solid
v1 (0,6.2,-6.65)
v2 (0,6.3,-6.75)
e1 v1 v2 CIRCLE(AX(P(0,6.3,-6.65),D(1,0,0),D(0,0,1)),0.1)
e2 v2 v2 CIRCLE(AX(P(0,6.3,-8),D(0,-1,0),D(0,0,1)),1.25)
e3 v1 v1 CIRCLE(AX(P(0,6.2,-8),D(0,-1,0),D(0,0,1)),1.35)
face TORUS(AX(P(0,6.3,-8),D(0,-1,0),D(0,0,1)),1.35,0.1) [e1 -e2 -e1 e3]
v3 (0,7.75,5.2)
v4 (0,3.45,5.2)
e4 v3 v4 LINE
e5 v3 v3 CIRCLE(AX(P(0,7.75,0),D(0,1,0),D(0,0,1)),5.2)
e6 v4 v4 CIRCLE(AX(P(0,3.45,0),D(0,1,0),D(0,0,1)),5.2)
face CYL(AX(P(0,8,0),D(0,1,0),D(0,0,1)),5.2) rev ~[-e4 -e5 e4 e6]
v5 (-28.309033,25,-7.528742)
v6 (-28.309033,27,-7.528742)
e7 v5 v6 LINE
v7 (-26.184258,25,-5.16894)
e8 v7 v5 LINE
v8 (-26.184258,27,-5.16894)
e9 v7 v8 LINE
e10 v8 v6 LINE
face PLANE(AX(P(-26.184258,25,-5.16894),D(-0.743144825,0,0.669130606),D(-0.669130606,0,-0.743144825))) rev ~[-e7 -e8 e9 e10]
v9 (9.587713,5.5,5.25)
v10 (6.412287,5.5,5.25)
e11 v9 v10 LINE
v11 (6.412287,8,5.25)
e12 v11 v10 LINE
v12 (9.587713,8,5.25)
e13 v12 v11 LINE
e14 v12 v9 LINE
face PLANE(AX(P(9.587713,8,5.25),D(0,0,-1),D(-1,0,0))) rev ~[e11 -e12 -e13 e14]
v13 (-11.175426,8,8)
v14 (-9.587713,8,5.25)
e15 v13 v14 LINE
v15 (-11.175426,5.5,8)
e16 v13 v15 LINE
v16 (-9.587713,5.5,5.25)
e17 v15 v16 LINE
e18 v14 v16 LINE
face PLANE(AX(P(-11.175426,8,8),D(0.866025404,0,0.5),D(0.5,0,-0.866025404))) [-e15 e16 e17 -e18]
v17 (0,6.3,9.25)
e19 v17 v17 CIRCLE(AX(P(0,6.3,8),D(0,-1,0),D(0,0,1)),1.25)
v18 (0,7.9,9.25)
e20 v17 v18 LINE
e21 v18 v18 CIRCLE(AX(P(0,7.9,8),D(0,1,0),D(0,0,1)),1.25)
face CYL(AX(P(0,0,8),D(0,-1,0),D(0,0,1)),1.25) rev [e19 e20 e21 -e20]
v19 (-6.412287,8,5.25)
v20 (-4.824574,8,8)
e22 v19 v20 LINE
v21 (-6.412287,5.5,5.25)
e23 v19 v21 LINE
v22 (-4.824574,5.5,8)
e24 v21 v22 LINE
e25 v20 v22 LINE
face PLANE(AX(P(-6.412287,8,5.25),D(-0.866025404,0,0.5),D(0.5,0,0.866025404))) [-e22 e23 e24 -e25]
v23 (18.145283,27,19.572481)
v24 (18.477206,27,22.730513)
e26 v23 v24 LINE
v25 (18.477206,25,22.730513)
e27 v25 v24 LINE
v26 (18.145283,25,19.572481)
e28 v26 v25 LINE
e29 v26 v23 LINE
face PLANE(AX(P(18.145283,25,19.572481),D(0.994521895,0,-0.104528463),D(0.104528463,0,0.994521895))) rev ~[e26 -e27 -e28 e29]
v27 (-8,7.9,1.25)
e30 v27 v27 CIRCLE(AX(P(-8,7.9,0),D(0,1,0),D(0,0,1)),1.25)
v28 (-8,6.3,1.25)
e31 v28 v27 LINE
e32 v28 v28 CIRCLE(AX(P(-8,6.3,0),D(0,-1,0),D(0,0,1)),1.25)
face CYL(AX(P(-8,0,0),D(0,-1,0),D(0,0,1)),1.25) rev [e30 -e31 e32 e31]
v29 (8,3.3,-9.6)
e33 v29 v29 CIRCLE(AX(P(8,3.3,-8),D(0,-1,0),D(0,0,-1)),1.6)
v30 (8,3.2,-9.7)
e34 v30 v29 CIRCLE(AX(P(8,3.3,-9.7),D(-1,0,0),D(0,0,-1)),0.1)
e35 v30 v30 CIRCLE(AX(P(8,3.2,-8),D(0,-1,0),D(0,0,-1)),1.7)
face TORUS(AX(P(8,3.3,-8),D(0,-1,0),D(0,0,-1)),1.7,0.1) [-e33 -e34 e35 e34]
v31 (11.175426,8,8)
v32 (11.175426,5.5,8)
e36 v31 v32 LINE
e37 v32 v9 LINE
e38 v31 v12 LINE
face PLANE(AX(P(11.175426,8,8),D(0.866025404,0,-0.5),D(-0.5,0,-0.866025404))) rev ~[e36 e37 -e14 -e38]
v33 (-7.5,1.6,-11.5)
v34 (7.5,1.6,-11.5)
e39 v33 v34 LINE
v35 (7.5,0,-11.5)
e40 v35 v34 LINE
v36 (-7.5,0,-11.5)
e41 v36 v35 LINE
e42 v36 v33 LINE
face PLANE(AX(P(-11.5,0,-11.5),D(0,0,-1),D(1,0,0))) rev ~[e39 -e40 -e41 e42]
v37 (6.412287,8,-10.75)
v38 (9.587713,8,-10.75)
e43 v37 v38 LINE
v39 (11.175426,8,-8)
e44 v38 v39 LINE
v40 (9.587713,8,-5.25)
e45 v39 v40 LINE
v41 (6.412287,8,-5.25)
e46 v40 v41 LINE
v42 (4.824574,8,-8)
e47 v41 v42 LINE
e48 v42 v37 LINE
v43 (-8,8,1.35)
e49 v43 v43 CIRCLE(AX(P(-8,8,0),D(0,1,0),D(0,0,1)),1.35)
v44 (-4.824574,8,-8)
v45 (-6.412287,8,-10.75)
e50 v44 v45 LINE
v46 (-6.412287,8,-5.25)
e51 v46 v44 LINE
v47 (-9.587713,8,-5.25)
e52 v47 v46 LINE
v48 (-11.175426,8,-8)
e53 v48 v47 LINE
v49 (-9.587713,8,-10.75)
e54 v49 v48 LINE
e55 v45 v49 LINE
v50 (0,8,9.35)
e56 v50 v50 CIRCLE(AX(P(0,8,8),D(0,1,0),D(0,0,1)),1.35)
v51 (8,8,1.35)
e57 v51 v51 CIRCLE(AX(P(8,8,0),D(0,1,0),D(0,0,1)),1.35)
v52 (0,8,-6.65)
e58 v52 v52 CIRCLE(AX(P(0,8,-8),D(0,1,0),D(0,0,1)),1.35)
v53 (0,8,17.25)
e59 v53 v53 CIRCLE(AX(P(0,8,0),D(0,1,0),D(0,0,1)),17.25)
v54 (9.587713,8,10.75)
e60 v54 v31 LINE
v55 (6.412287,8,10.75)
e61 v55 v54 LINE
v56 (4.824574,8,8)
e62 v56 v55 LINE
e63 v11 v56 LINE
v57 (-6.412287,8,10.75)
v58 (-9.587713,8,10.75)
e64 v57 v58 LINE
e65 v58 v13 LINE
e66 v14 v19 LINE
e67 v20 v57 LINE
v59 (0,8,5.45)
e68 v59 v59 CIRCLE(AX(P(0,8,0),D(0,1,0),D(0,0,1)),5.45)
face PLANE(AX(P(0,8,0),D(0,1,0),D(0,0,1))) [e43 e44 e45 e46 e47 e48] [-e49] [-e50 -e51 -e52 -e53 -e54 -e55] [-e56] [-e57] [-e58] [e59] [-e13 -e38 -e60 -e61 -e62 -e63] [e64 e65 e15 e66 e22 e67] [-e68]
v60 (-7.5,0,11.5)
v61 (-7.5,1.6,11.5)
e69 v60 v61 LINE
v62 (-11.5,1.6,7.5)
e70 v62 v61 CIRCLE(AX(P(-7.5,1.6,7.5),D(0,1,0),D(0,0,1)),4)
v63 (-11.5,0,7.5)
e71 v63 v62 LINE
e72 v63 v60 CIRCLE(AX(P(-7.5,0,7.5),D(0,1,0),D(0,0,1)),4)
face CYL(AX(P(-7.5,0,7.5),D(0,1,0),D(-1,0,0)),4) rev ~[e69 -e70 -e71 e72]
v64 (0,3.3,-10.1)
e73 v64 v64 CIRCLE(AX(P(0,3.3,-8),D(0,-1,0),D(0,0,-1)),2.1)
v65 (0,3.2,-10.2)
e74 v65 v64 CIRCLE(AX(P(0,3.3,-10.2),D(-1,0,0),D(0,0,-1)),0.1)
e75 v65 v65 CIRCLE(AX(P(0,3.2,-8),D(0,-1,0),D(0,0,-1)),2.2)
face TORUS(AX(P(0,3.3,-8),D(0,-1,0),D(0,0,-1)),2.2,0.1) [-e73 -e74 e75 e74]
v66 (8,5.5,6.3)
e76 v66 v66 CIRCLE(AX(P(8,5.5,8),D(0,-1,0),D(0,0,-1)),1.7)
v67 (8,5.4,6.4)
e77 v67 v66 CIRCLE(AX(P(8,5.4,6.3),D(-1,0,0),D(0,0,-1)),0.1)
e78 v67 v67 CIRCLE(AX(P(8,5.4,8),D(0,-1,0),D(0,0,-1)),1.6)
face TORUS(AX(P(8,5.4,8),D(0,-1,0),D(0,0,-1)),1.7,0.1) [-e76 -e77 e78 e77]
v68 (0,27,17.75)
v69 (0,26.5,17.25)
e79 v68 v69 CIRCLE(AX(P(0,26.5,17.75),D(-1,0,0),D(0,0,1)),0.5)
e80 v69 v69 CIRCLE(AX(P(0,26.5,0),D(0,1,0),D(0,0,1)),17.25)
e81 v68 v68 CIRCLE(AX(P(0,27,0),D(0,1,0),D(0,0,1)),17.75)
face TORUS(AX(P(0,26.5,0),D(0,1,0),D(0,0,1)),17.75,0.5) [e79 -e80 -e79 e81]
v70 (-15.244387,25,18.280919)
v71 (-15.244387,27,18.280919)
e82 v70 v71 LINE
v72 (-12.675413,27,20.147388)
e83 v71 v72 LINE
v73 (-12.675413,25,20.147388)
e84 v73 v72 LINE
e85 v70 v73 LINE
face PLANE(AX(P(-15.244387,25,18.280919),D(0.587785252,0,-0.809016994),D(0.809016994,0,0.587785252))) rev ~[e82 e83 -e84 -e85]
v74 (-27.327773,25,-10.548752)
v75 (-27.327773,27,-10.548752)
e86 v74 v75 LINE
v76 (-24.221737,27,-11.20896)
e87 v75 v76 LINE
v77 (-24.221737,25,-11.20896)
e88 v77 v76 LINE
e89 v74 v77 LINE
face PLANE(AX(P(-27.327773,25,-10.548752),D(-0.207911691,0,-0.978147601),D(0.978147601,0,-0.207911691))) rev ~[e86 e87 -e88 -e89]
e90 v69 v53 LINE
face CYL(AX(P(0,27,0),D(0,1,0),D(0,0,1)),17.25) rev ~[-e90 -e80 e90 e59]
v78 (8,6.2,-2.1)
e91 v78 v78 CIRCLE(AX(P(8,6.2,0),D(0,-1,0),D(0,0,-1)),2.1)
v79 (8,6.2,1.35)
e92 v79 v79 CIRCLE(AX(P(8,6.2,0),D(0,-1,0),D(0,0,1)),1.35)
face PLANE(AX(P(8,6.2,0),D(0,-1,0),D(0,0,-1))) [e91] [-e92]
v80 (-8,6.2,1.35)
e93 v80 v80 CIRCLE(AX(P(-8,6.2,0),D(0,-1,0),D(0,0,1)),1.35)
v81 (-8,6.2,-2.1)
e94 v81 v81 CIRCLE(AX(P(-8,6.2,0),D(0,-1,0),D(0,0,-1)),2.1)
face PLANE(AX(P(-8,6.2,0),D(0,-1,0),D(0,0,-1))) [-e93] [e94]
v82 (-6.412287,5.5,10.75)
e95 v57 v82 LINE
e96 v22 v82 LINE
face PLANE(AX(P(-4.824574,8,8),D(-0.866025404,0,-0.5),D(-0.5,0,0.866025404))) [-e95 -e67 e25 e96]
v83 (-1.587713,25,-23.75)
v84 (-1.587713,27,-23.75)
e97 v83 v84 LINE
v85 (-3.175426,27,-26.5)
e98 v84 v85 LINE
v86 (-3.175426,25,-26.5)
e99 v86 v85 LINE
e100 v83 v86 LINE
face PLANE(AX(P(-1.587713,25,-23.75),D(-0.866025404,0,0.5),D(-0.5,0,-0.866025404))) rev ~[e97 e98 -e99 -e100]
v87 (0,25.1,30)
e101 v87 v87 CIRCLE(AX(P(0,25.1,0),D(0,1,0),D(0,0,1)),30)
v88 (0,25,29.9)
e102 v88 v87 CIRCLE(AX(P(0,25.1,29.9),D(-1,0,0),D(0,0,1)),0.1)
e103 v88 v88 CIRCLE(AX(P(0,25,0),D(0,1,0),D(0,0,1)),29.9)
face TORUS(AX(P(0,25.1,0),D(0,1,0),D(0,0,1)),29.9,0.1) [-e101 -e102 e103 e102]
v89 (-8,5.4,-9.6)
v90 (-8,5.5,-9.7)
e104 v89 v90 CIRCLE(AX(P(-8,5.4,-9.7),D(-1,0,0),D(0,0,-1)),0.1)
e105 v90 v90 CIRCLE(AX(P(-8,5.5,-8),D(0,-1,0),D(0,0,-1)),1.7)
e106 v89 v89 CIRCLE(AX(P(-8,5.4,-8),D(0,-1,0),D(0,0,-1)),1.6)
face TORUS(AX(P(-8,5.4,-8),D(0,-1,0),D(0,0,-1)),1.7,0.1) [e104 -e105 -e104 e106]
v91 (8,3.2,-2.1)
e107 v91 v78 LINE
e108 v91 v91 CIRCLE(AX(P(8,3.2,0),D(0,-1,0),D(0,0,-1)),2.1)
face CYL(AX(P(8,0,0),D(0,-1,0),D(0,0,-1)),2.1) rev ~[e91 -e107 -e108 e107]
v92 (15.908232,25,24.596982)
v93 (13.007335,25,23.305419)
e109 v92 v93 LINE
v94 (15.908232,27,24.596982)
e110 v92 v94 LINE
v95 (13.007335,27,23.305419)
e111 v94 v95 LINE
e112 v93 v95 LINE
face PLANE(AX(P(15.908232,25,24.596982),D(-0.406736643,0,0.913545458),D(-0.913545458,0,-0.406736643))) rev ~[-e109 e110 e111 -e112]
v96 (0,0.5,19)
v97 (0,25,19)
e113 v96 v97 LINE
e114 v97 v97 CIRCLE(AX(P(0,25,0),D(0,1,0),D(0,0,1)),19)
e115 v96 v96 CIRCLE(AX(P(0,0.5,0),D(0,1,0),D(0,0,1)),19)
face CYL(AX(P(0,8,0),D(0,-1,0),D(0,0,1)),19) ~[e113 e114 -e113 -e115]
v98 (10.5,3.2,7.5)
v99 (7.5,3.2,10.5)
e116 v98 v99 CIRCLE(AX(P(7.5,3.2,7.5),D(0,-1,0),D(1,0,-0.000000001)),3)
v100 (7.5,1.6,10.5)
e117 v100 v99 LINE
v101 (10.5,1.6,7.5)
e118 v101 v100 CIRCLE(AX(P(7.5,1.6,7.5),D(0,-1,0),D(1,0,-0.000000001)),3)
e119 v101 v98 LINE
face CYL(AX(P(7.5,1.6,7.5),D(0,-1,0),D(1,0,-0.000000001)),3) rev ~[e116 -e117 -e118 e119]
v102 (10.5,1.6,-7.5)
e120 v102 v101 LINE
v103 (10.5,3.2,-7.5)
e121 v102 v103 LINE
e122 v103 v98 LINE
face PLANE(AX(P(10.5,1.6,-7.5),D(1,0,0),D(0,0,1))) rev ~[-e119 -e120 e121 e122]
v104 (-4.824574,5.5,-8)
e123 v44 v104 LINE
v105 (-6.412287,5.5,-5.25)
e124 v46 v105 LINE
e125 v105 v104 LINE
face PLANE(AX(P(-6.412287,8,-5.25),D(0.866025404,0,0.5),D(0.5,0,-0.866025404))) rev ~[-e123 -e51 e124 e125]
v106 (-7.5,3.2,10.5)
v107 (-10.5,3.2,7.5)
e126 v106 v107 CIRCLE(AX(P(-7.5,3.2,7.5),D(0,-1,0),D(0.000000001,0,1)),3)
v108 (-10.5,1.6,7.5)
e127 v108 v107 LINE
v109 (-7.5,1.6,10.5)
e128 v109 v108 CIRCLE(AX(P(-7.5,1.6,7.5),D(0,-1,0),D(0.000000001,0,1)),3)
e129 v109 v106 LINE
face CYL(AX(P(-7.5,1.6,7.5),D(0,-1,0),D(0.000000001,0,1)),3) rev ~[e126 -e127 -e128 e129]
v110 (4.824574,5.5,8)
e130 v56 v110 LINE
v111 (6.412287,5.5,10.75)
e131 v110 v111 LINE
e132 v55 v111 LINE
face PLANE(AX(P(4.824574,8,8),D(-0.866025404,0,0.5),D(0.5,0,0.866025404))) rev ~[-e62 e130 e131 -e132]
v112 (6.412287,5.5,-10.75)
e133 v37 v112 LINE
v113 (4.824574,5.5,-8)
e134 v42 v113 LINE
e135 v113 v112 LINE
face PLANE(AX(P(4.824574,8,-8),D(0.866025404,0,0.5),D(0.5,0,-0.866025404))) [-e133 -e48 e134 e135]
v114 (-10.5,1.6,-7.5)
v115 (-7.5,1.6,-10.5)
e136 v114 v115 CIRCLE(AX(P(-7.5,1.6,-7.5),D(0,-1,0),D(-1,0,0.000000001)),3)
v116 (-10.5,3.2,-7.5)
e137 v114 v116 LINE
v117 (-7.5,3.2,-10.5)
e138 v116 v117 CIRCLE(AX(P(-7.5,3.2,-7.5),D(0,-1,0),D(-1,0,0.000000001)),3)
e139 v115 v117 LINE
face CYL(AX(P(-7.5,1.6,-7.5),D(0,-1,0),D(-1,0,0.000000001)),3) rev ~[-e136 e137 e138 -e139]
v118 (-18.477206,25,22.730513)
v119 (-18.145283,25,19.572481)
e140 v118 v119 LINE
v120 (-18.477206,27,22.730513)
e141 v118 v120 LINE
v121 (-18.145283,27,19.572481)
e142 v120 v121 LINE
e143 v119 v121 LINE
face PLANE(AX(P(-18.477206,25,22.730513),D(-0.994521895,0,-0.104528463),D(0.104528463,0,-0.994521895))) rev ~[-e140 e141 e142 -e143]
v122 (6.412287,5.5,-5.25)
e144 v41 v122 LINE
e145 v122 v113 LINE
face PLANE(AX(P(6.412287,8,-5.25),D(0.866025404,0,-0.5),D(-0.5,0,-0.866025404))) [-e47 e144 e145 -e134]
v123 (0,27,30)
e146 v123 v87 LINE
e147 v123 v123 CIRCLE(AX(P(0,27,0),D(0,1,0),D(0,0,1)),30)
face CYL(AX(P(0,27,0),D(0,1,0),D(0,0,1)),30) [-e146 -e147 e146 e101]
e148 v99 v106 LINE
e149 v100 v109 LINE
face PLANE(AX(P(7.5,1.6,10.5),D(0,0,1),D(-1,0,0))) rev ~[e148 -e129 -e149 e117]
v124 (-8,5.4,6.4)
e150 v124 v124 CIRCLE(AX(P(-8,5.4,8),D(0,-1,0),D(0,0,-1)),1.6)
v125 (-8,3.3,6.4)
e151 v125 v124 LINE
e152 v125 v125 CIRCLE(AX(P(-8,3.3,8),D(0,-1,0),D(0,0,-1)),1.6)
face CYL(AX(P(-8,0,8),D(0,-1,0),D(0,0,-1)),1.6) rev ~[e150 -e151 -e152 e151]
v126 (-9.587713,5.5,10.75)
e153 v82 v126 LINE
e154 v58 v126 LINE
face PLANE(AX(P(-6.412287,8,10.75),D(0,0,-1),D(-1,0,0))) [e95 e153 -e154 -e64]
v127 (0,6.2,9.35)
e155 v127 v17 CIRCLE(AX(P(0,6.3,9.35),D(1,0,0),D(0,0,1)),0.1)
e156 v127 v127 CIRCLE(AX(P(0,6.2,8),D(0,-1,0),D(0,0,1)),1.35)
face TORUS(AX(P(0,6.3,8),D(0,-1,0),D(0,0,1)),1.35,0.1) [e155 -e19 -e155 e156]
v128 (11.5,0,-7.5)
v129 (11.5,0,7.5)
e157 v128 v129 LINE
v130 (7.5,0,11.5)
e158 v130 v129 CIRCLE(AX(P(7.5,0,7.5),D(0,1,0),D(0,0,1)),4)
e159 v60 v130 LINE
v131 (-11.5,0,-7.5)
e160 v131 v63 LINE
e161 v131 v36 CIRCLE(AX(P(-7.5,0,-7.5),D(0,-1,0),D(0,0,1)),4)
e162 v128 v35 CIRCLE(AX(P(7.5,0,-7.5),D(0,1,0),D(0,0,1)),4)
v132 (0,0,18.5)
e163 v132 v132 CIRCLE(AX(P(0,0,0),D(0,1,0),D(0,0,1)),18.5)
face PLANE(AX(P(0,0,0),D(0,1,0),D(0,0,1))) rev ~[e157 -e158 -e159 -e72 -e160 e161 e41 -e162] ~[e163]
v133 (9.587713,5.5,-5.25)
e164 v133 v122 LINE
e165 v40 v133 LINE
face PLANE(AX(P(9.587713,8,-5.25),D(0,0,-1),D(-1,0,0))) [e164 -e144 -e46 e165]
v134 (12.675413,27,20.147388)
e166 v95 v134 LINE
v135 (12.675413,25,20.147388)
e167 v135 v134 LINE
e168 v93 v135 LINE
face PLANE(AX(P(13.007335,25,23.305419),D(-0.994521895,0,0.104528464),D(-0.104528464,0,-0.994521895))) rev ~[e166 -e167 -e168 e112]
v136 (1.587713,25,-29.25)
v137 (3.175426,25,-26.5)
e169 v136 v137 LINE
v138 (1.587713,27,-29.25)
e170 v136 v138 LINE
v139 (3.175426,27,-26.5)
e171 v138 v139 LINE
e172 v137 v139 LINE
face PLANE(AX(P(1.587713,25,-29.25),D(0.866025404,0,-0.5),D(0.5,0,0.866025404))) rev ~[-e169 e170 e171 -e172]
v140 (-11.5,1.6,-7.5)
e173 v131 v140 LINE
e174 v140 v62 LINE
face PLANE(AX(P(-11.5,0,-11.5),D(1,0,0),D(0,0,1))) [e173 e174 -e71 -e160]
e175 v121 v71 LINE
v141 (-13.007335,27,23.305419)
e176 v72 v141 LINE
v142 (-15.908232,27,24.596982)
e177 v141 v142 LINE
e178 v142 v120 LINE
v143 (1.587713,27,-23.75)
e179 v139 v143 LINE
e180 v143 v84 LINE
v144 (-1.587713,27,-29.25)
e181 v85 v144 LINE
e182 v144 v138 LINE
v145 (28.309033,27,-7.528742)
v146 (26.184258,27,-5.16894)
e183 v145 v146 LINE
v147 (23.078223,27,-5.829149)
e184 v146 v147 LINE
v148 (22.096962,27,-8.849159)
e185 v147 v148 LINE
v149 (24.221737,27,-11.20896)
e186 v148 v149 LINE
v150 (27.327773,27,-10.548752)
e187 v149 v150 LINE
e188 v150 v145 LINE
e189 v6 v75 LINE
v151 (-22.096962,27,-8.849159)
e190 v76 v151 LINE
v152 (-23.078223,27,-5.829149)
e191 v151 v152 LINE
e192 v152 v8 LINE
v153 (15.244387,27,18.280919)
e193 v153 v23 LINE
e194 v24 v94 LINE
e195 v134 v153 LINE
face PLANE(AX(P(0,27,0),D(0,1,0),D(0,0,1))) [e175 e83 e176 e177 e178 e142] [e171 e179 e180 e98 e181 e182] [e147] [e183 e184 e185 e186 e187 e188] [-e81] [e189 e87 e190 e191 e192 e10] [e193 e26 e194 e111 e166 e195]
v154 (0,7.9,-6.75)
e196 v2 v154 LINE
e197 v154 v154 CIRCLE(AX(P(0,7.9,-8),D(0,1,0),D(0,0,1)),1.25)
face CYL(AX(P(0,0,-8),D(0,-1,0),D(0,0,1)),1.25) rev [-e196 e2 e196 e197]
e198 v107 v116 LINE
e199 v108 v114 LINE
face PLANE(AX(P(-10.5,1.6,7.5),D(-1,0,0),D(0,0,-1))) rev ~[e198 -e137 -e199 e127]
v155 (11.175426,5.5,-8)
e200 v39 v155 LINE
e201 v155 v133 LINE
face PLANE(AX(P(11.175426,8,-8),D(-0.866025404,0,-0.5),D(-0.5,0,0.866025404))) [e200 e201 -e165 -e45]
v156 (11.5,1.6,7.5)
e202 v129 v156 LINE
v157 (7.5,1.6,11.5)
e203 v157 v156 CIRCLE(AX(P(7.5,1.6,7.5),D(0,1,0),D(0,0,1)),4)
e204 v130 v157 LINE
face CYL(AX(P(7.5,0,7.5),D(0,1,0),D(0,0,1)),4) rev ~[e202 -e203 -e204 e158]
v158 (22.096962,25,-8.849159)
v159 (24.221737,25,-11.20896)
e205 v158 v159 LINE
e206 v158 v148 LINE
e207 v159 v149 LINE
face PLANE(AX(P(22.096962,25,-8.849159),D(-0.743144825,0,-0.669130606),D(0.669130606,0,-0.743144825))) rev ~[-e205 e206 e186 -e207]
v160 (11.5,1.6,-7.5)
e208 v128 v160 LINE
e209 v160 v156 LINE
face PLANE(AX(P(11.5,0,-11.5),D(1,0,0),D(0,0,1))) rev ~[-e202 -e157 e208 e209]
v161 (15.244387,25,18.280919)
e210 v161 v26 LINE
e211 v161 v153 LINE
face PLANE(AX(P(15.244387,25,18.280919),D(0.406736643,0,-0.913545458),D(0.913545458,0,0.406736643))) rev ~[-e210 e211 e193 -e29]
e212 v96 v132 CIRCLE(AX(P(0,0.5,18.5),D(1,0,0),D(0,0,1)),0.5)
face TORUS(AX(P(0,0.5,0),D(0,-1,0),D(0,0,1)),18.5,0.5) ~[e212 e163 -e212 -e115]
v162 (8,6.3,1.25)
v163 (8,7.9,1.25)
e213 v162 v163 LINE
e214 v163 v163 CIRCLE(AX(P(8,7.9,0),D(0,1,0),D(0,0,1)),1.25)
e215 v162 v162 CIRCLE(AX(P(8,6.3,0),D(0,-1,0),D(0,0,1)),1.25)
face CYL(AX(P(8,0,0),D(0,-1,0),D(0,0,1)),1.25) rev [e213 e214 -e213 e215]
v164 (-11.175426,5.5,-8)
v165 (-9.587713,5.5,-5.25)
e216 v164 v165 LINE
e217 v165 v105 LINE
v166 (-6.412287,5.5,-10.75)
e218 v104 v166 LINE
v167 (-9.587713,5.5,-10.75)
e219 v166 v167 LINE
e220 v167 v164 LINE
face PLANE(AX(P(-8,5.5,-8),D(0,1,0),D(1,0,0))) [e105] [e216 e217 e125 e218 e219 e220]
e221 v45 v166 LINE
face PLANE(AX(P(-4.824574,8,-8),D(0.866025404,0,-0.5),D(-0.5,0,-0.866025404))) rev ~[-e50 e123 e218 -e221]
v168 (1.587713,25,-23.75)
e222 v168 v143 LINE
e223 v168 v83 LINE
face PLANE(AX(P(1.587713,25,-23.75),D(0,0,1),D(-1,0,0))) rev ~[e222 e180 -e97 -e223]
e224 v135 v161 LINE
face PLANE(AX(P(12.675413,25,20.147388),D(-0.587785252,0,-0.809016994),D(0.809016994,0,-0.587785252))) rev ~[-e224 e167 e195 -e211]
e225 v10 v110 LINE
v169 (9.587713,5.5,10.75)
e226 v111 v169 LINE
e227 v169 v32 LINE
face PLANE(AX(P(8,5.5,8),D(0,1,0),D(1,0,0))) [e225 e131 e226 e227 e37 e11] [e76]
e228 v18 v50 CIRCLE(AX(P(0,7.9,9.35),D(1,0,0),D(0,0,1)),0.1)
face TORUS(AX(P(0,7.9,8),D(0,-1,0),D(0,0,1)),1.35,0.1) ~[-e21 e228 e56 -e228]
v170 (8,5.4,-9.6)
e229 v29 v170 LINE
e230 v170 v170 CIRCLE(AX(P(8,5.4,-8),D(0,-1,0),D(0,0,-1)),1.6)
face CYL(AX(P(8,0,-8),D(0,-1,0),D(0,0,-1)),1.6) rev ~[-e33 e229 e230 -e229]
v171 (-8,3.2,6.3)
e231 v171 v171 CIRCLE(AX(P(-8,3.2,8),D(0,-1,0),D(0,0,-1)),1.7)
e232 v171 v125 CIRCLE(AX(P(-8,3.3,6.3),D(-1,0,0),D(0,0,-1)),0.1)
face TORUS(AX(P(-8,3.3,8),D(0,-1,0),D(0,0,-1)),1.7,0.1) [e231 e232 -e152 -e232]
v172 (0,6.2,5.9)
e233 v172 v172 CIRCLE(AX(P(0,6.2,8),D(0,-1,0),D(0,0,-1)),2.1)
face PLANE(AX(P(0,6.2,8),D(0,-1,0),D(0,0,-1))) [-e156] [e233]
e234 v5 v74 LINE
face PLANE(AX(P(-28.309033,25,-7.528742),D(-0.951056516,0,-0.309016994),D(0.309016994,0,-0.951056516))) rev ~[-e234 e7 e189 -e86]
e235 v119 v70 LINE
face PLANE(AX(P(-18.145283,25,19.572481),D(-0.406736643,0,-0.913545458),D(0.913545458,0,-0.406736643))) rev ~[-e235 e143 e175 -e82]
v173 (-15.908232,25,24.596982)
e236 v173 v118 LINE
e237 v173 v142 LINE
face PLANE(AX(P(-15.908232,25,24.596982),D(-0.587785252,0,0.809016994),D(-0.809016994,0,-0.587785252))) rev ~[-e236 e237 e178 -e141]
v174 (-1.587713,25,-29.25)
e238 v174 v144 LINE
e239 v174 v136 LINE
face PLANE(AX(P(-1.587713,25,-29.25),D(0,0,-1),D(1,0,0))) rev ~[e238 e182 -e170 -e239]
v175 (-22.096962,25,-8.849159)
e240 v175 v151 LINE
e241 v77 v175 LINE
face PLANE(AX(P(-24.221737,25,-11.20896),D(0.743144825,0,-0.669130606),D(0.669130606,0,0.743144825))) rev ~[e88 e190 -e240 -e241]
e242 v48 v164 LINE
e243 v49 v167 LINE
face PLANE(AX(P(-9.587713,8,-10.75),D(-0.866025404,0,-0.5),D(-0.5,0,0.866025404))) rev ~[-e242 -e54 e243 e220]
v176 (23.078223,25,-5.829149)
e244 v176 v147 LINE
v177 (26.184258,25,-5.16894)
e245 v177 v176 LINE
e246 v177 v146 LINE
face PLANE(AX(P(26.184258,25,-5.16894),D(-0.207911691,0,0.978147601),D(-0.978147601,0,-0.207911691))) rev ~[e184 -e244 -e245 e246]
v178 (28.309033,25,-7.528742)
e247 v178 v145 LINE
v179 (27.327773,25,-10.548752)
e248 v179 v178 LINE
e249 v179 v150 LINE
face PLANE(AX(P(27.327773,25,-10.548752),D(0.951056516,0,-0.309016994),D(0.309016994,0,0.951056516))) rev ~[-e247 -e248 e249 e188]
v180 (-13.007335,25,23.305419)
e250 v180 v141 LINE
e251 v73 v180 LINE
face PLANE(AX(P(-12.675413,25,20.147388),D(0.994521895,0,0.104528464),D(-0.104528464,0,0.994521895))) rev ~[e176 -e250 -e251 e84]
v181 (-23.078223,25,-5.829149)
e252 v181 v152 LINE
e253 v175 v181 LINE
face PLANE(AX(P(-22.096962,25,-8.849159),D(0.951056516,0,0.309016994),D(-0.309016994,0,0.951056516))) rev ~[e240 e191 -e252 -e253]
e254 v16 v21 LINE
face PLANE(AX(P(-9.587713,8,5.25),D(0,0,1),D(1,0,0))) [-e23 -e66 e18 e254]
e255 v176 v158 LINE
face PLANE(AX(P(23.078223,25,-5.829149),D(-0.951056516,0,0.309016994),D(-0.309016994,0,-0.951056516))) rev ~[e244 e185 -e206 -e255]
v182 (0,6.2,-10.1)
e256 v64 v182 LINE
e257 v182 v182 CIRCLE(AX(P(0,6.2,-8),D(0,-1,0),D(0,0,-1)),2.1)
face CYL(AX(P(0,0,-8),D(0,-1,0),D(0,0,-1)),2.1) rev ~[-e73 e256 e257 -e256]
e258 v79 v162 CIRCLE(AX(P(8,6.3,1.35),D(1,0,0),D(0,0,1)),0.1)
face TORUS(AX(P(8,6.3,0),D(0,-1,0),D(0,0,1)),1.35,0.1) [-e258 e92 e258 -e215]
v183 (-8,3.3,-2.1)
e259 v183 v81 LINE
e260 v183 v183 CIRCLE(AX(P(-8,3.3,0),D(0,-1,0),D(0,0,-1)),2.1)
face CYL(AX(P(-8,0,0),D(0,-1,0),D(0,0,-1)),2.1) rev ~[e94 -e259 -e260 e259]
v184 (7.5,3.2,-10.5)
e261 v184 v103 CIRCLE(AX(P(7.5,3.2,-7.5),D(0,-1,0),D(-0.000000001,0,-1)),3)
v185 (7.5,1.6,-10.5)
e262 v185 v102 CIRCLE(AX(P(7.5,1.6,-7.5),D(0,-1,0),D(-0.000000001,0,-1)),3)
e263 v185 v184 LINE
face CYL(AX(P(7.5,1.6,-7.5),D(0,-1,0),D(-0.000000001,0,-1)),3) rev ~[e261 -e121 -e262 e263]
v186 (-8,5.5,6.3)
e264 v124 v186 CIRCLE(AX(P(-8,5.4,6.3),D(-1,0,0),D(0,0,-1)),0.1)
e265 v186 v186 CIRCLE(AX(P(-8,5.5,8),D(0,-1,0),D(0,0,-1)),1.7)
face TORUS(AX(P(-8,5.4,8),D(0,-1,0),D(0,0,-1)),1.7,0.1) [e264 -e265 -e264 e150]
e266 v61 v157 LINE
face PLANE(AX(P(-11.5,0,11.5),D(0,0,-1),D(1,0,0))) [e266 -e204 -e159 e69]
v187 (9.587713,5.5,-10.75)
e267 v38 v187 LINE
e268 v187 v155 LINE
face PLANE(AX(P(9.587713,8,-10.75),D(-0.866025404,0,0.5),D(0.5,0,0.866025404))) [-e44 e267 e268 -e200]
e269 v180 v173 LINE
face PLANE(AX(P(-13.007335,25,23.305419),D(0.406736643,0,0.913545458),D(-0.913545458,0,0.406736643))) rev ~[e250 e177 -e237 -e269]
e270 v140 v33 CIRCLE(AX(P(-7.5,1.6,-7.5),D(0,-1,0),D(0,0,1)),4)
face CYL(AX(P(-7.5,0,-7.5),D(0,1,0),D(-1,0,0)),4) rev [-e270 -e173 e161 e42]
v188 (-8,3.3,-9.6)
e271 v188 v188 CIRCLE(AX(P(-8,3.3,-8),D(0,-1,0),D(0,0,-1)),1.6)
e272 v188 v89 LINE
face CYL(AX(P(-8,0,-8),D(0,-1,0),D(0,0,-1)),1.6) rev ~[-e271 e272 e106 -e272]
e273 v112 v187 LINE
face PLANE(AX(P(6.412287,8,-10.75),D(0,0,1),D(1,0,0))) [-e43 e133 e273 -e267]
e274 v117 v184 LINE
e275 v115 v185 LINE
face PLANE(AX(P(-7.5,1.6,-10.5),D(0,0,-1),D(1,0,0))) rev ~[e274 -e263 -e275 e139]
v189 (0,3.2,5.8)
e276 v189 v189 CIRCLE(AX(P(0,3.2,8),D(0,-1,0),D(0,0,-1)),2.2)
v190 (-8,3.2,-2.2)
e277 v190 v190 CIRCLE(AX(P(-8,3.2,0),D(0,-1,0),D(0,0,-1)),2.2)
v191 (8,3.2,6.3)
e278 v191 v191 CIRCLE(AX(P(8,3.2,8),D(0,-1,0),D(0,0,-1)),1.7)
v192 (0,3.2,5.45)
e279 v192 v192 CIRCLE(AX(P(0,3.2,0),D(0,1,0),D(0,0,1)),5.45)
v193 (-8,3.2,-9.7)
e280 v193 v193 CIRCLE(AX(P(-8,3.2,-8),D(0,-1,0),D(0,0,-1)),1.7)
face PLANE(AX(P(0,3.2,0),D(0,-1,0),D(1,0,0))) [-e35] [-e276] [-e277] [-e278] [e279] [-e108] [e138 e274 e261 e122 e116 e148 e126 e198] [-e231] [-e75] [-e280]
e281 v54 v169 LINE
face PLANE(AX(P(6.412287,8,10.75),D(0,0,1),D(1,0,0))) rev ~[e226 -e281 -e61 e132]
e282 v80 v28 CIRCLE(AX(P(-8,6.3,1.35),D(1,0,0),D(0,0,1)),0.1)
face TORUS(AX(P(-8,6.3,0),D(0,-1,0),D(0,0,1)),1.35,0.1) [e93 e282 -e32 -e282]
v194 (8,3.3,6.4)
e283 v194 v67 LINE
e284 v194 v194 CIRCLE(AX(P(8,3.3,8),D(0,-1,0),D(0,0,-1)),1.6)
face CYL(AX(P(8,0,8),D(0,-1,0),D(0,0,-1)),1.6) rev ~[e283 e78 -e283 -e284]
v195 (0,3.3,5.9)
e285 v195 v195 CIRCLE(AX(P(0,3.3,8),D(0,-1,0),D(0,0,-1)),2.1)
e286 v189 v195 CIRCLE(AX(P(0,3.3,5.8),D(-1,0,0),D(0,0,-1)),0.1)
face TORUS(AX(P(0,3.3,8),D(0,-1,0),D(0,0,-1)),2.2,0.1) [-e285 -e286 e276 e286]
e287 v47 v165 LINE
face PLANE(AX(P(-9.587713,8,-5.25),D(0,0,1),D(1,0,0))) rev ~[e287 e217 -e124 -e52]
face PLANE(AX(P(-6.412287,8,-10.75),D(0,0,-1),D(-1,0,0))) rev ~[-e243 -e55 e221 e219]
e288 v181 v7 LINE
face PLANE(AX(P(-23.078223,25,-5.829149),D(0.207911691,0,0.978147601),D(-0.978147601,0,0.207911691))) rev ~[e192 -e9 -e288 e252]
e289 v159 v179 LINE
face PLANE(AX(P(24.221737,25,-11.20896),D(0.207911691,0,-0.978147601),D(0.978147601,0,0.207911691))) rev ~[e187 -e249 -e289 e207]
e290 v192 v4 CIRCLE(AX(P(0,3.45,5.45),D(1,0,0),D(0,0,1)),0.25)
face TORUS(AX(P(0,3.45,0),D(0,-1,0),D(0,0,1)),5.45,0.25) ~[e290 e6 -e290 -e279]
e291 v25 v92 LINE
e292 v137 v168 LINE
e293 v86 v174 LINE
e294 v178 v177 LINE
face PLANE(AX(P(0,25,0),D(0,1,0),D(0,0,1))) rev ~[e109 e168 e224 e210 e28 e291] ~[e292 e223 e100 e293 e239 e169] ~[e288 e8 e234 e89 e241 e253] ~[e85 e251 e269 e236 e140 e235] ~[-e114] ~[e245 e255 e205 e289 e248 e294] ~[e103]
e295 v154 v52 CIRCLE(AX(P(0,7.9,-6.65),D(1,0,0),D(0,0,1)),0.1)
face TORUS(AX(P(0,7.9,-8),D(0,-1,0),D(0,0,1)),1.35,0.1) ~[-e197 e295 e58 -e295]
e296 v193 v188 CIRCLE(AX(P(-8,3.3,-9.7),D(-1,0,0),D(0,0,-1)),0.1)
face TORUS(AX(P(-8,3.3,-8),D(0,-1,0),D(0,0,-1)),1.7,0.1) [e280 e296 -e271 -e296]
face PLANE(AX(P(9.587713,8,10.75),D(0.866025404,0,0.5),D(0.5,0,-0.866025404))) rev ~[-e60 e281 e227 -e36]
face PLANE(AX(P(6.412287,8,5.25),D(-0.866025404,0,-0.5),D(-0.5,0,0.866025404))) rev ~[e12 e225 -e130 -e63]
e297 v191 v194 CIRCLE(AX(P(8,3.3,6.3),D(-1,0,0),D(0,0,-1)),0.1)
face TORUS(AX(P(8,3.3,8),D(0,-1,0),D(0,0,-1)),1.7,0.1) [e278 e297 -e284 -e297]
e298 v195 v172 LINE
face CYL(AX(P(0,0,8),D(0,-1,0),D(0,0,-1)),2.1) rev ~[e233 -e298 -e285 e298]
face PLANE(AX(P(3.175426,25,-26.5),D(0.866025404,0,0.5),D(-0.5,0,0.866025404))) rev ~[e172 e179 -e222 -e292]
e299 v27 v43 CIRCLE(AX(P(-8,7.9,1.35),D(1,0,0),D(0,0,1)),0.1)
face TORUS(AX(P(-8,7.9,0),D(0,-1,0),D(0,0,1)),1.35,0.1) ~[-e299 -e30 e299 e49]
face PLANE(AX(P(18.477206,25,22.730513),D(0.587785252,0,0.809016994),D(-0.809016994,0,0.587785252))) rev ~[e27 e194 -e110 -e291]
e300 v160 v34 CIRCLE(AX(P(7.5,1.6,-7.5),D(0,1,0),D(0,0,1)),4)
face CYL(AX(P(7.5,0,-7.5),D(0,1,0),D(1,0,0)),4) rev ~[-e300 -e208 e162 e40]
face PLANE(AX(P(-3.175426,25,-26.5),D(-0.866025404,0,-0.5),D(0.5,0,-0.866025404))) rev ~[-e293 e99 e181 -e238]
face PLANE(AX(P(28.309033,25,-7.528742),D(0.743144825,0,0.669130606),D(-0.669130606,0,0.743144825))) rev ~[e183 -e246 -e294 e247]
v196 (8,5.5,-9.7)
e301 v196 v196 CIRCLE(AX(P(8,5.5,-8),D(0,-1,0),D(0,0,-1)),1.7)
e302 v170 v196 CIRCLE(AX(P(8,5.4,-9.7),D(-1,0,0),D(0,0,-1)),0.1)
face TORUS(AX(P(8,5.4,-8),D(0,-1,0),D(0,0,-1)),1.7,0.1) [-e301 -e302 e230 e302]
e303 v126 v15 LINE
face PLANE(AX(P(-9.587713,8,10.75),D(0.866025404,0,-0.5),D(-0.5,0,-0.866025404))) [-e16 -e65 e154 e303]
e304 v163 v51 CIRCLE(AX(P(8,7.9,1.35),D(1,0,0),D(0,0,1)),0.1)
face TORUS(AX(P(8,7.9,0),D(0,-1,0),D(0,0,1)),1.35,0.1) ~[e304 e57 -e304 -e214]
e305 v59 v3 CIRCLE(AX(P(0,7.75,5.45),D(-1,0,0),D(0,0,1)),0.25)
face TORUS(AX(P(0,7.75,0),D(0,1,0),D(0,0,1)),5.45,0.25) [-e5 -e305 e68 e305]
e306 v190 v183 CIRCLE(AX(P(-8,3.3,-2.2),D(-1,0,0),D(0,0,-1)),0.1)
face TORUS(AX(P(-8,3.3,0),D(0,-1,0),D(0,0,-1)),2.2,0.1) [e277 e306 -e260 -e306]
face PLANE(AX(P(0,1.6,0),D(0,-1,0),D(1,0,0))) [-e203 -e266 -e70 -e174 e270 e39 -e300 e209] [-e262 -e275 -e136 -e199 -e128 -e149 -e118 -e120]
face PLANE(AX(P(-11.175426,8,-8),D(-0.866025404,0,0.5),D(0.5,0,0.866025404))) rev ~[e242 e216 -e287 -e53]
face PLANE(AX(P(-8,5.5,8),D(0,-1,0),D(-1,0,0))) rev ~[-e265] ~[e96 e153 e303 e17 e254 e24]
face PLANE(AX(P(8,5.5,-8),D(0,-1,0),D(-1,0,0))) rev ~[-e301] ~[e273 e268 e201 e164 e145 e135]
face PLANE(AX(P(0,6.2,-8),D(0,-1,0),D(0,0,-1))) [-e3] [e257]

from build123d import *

# Parameters (mm, degrees)
SKETCH_1_R          = 19
SKETCH_1_R_2        = 1.25
EXTRUDE_1_DEPTH     = 8
SKETCH_2_R          = 19
SKETCH_2_R_2        = 17
EXTRUDE_2_DEPTH     = 19
SKETCH_3_R          = 30
SKETCH_3_R_2        = 19
EXTRUDE_3_DEPTH     = 2
CUT_EXTRUDE_1_REACH = 48.487
SKETCH_4_R          = 5.2
SKETCH_5_R          = 2.1
CUT_EXTRUDE_2_DEPTH = 6.2
CUT_EXTRUDE_3_REACH = 52.289
SKETCH_6_R          = 1.6
CUT_EXTRUDE_4_DEPTH = 2.5
SKETCH_9_W          = 23
SKETCH_9_H          = 23
CUT_EXTRUDE_5_DEPTH = 1.6
FILLET_1_R          = 4
CUT_EXTRUDE_6_DEPTH = 1.6
SKETCH_11_R         = 17.25
CUT_EXTRUDE_7_DEPTH = 19
CUT_EXTRUDE_8_REACH = 52.289
SKETCH_12_R         = 1.5
CUT_EXTRUDE_9_DEPTH = 2
FILLET_2_R          = 0.5
FILLET_3_R          = 0.5
FILLET_4_R          = 0.25
FILLET_5_R          = 0.1
FILLET_6_R          = 0.1


with BuildPart() as part:
    # 草图1 → 凸台-拉伸1 (new body)
    with BuildSketch(Plane(origin=(0, 0, 0), x_dir=(1, 0, 0), z_dir=(0, 1, 0))):
        with Locations(Location((0, 0, 0), (0, 0, 270))):
            Circle(SKETCH_1_R)
        with Locations(Location((0, 8, 0), (0, 0, 270))):
            Circle(SKETCH_1_R_2, mode=Mode.SUBTRACT)
        with Locations(Location((8, 0, 0), (0, 0, 270))):
            Circle(SKETCH_1_R_2, mode=Mode.SUBTRACT)
        with Locations(Location((0, -8, 0), (0, 0, 270))):
            Circle(SKETCH_1_R_2, mode=Mode.SUBTRACT)
        with Locations(Location((-8, 0, 0), (0, 0, 270))):
            Circle(SKETCH_1_R_2, mode=Mode.SUBTRACT)
    extrude(amount=EXTRUDE_1_DEPTH)

    # 草图2 → 凸台-拉伸2 (add)
    with BuildSketch(Plane(origin=(0, 8, 0), x_dir=(1, 0, 0), z_dir=(0, 1, 0))):
        with Locations(Location((0, 0, 0), (0, 0, 270))):
            Circle(SKETCH_2_R)
        with Locations(Location((0, 0, 0), (0, 0, 270))):
            Circle(SKETCH_2_R_2, mode=Mode.SUBTRACT)
    extrude(amount=EXTRUDE_2_DEPTH)


with BuildPart() as body_2:
    # 草图3 → 凸台-拉伸3 (new body)
    with BuildSketch(Plane(origin=(0, 27, 0), x_dir=(1, 0, 0), z_dir=(0, 1, 0))):
        with Locations(Location((0, 0, 0), (0, 0, 270))):
            Circle(SKETCH_3_R)
        with Locations(Location((0, 0, 0), (0, 0, 270))):
            Circle(SKETCH_3_R_2, mode=Mode.SUBTRACT)
    extrude(amount=-EXTRUDE_3_DEPTH)

    # Combine 1: union part
    add(part.part)

    # 草图4 → 切除-拉伸1 (cut, up to next)
    with BuildSketch(Plane(origin=(0, 8, 0), x_dir=(1, 0, 0), z_dir=(0, 1, 0)), mode=Mode.PRIVATE) as cut_extrude_1_sk1:
        with Locations(Location((0, 0, 0), (0, 0, 270))):
            Circle(SKETCH_4_R)
    cut_extrude_1_tool1 = extrude(cut_extrude_1_sk1.sketch, amount=-CUT_EXTRUDE_1_REACH, mode=Mode.PRIVATE) & body_2.part
    add(cut_extrude_1_tool1.solids().sort_by_distance((0, 8, 0))[0], mode=Mode.SUBTRACT)

    # 草图5 → 切除-拉伸2 (cut)
    with BuildSketch(Plane.XZ):
        with Locations(Location((0, 8, 0), (0, 0, 270))):
            Circle(SKETCH_5_R)
        with Locations(Location((8, 0, 0), (0, 0, 270))):
            Circle(SKETCH_5_R)
        with Locations(Location((0, -8, 0), (0, 0, 270))):
            Circle(SKETCH_5_R)
        with Locations(Location((-8, 0, 0), (0, 0, 270))):
            Circle(SKETCH_5_R)
    extrude(amount=-CUT_EXTRUDE_2_DEPTH, mode=Mode.SUBTRACT)

    # 草图6 → 切除-拉伸3 (cut, up to next)
    with BuildSketch(Plane.XZ, mode=Mode.PRIVATE) as cut_extrude_3_sk1:
        with Locations(Location((-8, 8, 0), (0, 0, 270))):
            Circle(SKETCH_6_R)
    cut_extrude_3_tool1 = extrude(cut_extrude_3_sk1.sketch, amount=-CUT_EXTRUDE_3_REACH, mode=Mode.PRIVATE) & body_2.part
    # 草图6 → 切除-拉伸3 (cut, up to next)
    with BuildSketch(Plane.XZ, mode=Mode.PRIVATE) as cut_extrude_3_sk2:
        with Locations(Location((8, 8, 0), (0, 0, 270))):
            Circle(SKETCH_6_R)
    cut_extrude_3_tool2 = extrude(cut_extrude_3_sk2.sketch, amount=-CUT_EXTRUDE_3_REACH, mode=Mode.PRIVATE) & body_2.part
    # 草图6 → 切除-拉伸3 (cut, up to next)
    with BuildSketch(Plane.XZ, mode=Mode.PRIVATE) as cut_extrude_3_sk3:
        with Locations(Location((8, -8, 0), (0, 0, 270))):
            Circle(SKETCH_6_R)
    cut_extrude_3_tool3 = extrude(cut_extrude_3_sk3.sketch, amount=-CUT_EXTRUDE_3_REACH, mode=Mode.PRIVATE) & body_2.part
    # 草图6 → 切除-拉伸3 (cut, up to next)
    with BuildSketch(Plane.XZ, mode=Mode.PRIVATE) as cut_extrude_3_sk4:
        with Locations(Location((-8, -8, 0), (0, 0, 270))):
            Circle(SKETCH_6_R)
    cut_extrude_3_tool4 = extrude(cut_extrude_3_sk4.sketch, amount=-CUT_EXTRUDE_3_REACH, mode=Mode.PRIVATE) & body_2.part
    add(cut_extrude_3_tool1.solids().sort_by_distance((-8, 0, 8))[0], mode=Mode.SUBTRACT)
    add(cut_extrude_3_tool2.solids().sort_by_distance((8, 0, 8))[0], mode=Mode.SUBTRACT)
    add(cut_extrude_3_tool3.solids().sort_by_distance((8, 0, -8))[0], mode=Mode.SUBTRACT)
    add(cut_extrude_3_tool4.solids().sort_by_distance((-8, 0, -8))[0], mode=Mode.SUBTRACT)

    # 草图7 → 切除-拉伸4 (cut)
    with BuildSketch(Plane(origin=(0, 8, 0), x_dir=(1, 0, 0), z_dir=(0, 1, 0))):
        Polygon((-6.41228676, 10.75), (-9.58771324, 10.75), (-11.175426481, 8), (-9.58771324, 5.25), (-6.41228676, 5.25), (-4.824573519, 8), align=None)
        Polygon((4.824573519, 8), (6.41228676, 10.75), (9.58771324, 10.75), (11.175426481, 8), (9.58771324, 5.25), (6.41228676, 5.25), align=None)
        Polygon((-4.824573519, -8), (-6.41228676, -10.75), (-9.58771324, -10.75), (-11.175426481, -8), (-9.58771324, -5.25), (-6.41228676, -5.25), align=None)
        Polygon((6.41228676, -5.25), (4.824573519, -8), (6.41228676, -10.75), (9.58771324, -10.75), (11.175426481, -8), (9.58771324, -5.25), align=None)
    extrude(amount=-CUT_EXTRUDE_4_DEPTH, mode=Mode.SUBTRACT)

    # 草图9 → 切除-拉伸5 (cut)
    with BuildSketch(Plane.XZ):
        Rectangle(SKETCH_9_W, SKETCH_9_H)
    extrude(amount=-CUT_EXTRUDE_5_DEPTH, mode=Mode.SUBTRACT)

    # 圆角1
    fillet_1_edges = [body_2.edges().sort_by_distance(p)[0] for p in [
        (11.5, 0.8, 11.5),
        (11.5, 0.8, -11.5),
        (-11.5, 0.8, -11.5),
        (-11.5, 0.8, 11.5),
    ]]
    fillet(fillet_1_edges, radius=FILLET_1_R)

    # 草图10 → 切除-拉伸6 (cut)
    with BuildSketch(Plane.XZ.offset(-1.6)):
        with BuildLine():
            Line((10.5, -7.5), (10.5, 7.5))
            ThreePointArc((10.5, 7.5), (9.621320344, 9.621320344), (7.5, 10.5))
            Line((7.5, 10.5), (-7.5, 10.5))
            ThreePointArc((-7.5, 10.5), (-9.621320344, 9.621320344), (-10.5, 7.5))
            Line((-10.5, 7.5), (-10.5, -7.5))
            ThreePointArc((-10.5, -7.5), (-9.621320344, -9.621320344), (-7.5, -10.5))
            Line((-7.5, -10.5), (7.5, -10.5))
            ThreePointArc((7.5, -10.5), (9.621320344, -9.621320344), (10.5, -7.5))
        make_face()
    extrude(amount=-CUT_EXTRUDE_6_DEPTH, mode=Mode.SUBTRACT)

    # 草图11 → 切除-拉伸7 (cut)
    with BuildSketch(Plane(origin=(0, 27, 0), x_dir=(1, 0, 0), z_dir=(0, 1, 0))):
        with Locations(Location((0, 0, 0), (0, 0, 270))):
            Circle(SKETCH_11_R)
    extrude(amount=-CUT_EXTRUDE_7_DEPTH, mode=Mode.SUBTRACT)

    # 草图12 → 切除-拉伸8 (cut, up to next)
    with BuildSketch(Plane(origin=(0, 27, 0), x_dir=(1, 0, 0), z_dir=(0, 1, 0)), mode=Mode.PRIVATE) as cut_extrude_8_sk1:
        with Locations(Location((0, 26.5, 0), (0, 0, 270))):
            Circle(SKETCH_12_R)
    cut_extrude_8_tool1 = extrude(cut_extrude_8_sk1.sketch, amount=-CUT_EXTRUDE_8_REACH, mode=Mode.PRIVATE) & body_2.part
    # 草图12 → 切除-拉伸8 (cut, up to next)
    with BuildSketch(Plane(origin=(0, 27, 0), x_dir=(1, 0, 0), z_dir=(0, 1, 0)), mode=Mode.PRIVATE) as cut_extrude_8_sk2:
        with Locations(Location((25.202997682, 8.188950351, 0), (0, 0, 270))):
            Circle(SKETCH_12_R)
    cut_extrude_8_tool2 = extrude(cut_extrude_8_sk2.sketch, amount=-CUT_EXTRUDE_8_REACH, mode=Mode.PRIVATE) & body_2.part
    # 草图12 → 切除-拉伸8 (cut, up to next)
    with BuildSketch(Plane(origin=(0, 27, 0), x_dir=(1, 0, 0), z_dir=(0, 1, 0)), mode=Mode.PRIVATE) as cut_extrude_8_sk3:
        with Locations(Location((15.576309186, -21.438950351, 0), (0, 0, 270))):
            Circle(SKETCH_12_R)
    cut_extrude_8_tool3 = extrude(cut_extrude_8_sk3.sketch, amount=-CUT_EXTRUDE_8_REACH, mode=Mode.PRIVATE) & body_2.part
    # 草图12 → 切除-拉伸8 (cut, up to next)
    with BuildSketch(Plane(origin=(0, 27, 0), x_dir=(1, 0, 0), z_dir=(0, 1, 0)), mode=Mode.PRIVATE) as cut_extrude_8_sk4:
        with Locations(Location((-15.576309186, -21.438950351, 0), (0, 0, 270))):
            Circle(SKETCH_12_R)
    cut_extrude_8_tool4 = extrude(cut_extrude_8_sk4.sketch, amount=-CUT_EXTRUDE_8_REACH, mode=Mode.PRIVATE) & body_2.part
    # 草图12 → 切除-拉伸8 (cut, up to next)
    with BuildSketch(Plane(origin=(0, 27, 0), x_dir=(1, 0, 0), z_dir=(0, 1, 0)), mode=Mode.PRIVATE) as cut_extrude_8_sk5:
        with Locations(Location((-25.202997682, 8.188950351, 0), (0, 0, 270))):
            Circle(SKETCH_12_R)
    cut_extrude_8_tool5 = extrude(cut_extrude_8_sk5.sketch, amount=-CUT_EXTRUDE_8_REACH, mode=Mode.PRIVATE) & body_2.part
    add(cut_extrude_8_tool1.solids().sort_by_distance((0, 27, -26.5))[0], mode=Mode.SUBTRACT)
    add(cut_extrude_8_tool2.solids().sort_by_distance((25.202998, 27, -8.18895))[0], mode=Mode.SUBTRACT)
    add(cut_extrude_8_tool3.solids().sort_by_distance((15.576309, 27, 21.43895))[0], mode=Mode.SUBTRACT)
    add(cut_extrude_8_tool4.solids().sort_by_distance((-15.576309, 27, 21.43895))[0], mode=Mode.SUBTRACT)
    add(cut_extrude_8_tool5.solids().sort_by_distance((-25.202998, 27, -8.18895))[0], mode=Mode.SUBTRACT)

    # 草图14 → 切除-拉伸9 (cut)
    with BuildSketch(Plane.XZ.offset(-25)):
        Polygon((-22.096961889, -8.84915864), (-23.078222635, -5.829148593), (-26.184258429, -5.168940305), (-28.309033475, -7.528742062), (-27.327772728, -10.548752109), (-24.221736935, -11.208960397), align=None)
        Polygon((1.58771324, -23.75), (-1.58771324, -23.75), (-3.175426481, -26.5), (-1.58771324, -29.25), (1.58771324, -29.25), (3.175426481, -26.5), align=None)
        Polygon((-15.244386736, 18.280919189), (-12.675412748, 20.147388044), (-13.007335199, 23.305419206), (-15.908231636, 24.596981513), (-18.477205623, 22.730512658), (-18.145283173, 19.572481496), align=None)
        Polygon((12.675412748, 20.147388044), (15.244386736, 18.280919189), (18.145283173, 19.572481496), (18.477205623, 22.730512658), (15.908231636, 24.596981513), (13.007335199, 23.305419206), align=None)
        Polygon((23.078222635, -5.829148593), (22.096961889, -8.84915864), (24.221736935, -11.208960397), (27.327772728, -10.548752109), (28.309033475, -7.528742062), (26.184258429, -5.168940305), align=None)
    extrude(amount=-CUT_EXTRUDE_9_DEPTH, mode=Mode.SUBTRACT)

    # 圆角2
    fillet_2_edges = [body_2.edges().sort_by_distance(p)[0] for p in [
        (0, 27, -17.25),
    ]]
    fillet(fillet_2_edges, radius=FILLET_2_R)

    # 圆角3
    fillet_3_edges = [body_2.edges().sort_by_distance(p)[0] for p in [
        (0, 0, -19),
    ]]
    fillet(fillet_3_edges, radius=FILLET_3_R)

    # 圆角4
    fillet_4_edges = [body_2.edges().sort_by_distance(p)[0] for p in [
        (0, 3.2, -5.2),
        (0, 8, -5.2),
    ]]
    fillet(fillet_4_edges, radius=FILLET_4_R)

    # 圆角5
    fillet_5_edges = [body_2.edges().sort_by_distance(p)[0] for p in [
        (-8, 5.5, 9.6),
        (8, 5.5, 9.6),
        (0, 8, -9.25),
        (8, 8, -1.25),
        (0, 8, 6.75),
        (-8, 5.5, -6.4),
        (-8, 8, -1.25),
        (8, 3.2, 9.6),
        (-8, 3.2, -6.4),
        (-8, 3.2, 2.1),
        (0, 3.2, 10.1),
        (0, 3.2, -5.9),
        (-8, 3.2, 9.6),
        (8, 3.2, -6.4),
        (0, 6.2, 6.75),
        (8, 6.2, -1.25),
        (0, 6.2, -9.25),
        (-8, 6.2, -1.25),
        (8, 5.5, -6.4),
    ]]
    fillet(fillet_5_edges, radius=FILLET_5_R)

    # 圆角6
    fillet_6_edges = [body_2.edges().sort_by_distance(p)[0] for p in [
        (0, 25, -30),
    ]]
    fillet(fillet_6_edges, radius=FILLET_6_R)


solid = body_2.part
